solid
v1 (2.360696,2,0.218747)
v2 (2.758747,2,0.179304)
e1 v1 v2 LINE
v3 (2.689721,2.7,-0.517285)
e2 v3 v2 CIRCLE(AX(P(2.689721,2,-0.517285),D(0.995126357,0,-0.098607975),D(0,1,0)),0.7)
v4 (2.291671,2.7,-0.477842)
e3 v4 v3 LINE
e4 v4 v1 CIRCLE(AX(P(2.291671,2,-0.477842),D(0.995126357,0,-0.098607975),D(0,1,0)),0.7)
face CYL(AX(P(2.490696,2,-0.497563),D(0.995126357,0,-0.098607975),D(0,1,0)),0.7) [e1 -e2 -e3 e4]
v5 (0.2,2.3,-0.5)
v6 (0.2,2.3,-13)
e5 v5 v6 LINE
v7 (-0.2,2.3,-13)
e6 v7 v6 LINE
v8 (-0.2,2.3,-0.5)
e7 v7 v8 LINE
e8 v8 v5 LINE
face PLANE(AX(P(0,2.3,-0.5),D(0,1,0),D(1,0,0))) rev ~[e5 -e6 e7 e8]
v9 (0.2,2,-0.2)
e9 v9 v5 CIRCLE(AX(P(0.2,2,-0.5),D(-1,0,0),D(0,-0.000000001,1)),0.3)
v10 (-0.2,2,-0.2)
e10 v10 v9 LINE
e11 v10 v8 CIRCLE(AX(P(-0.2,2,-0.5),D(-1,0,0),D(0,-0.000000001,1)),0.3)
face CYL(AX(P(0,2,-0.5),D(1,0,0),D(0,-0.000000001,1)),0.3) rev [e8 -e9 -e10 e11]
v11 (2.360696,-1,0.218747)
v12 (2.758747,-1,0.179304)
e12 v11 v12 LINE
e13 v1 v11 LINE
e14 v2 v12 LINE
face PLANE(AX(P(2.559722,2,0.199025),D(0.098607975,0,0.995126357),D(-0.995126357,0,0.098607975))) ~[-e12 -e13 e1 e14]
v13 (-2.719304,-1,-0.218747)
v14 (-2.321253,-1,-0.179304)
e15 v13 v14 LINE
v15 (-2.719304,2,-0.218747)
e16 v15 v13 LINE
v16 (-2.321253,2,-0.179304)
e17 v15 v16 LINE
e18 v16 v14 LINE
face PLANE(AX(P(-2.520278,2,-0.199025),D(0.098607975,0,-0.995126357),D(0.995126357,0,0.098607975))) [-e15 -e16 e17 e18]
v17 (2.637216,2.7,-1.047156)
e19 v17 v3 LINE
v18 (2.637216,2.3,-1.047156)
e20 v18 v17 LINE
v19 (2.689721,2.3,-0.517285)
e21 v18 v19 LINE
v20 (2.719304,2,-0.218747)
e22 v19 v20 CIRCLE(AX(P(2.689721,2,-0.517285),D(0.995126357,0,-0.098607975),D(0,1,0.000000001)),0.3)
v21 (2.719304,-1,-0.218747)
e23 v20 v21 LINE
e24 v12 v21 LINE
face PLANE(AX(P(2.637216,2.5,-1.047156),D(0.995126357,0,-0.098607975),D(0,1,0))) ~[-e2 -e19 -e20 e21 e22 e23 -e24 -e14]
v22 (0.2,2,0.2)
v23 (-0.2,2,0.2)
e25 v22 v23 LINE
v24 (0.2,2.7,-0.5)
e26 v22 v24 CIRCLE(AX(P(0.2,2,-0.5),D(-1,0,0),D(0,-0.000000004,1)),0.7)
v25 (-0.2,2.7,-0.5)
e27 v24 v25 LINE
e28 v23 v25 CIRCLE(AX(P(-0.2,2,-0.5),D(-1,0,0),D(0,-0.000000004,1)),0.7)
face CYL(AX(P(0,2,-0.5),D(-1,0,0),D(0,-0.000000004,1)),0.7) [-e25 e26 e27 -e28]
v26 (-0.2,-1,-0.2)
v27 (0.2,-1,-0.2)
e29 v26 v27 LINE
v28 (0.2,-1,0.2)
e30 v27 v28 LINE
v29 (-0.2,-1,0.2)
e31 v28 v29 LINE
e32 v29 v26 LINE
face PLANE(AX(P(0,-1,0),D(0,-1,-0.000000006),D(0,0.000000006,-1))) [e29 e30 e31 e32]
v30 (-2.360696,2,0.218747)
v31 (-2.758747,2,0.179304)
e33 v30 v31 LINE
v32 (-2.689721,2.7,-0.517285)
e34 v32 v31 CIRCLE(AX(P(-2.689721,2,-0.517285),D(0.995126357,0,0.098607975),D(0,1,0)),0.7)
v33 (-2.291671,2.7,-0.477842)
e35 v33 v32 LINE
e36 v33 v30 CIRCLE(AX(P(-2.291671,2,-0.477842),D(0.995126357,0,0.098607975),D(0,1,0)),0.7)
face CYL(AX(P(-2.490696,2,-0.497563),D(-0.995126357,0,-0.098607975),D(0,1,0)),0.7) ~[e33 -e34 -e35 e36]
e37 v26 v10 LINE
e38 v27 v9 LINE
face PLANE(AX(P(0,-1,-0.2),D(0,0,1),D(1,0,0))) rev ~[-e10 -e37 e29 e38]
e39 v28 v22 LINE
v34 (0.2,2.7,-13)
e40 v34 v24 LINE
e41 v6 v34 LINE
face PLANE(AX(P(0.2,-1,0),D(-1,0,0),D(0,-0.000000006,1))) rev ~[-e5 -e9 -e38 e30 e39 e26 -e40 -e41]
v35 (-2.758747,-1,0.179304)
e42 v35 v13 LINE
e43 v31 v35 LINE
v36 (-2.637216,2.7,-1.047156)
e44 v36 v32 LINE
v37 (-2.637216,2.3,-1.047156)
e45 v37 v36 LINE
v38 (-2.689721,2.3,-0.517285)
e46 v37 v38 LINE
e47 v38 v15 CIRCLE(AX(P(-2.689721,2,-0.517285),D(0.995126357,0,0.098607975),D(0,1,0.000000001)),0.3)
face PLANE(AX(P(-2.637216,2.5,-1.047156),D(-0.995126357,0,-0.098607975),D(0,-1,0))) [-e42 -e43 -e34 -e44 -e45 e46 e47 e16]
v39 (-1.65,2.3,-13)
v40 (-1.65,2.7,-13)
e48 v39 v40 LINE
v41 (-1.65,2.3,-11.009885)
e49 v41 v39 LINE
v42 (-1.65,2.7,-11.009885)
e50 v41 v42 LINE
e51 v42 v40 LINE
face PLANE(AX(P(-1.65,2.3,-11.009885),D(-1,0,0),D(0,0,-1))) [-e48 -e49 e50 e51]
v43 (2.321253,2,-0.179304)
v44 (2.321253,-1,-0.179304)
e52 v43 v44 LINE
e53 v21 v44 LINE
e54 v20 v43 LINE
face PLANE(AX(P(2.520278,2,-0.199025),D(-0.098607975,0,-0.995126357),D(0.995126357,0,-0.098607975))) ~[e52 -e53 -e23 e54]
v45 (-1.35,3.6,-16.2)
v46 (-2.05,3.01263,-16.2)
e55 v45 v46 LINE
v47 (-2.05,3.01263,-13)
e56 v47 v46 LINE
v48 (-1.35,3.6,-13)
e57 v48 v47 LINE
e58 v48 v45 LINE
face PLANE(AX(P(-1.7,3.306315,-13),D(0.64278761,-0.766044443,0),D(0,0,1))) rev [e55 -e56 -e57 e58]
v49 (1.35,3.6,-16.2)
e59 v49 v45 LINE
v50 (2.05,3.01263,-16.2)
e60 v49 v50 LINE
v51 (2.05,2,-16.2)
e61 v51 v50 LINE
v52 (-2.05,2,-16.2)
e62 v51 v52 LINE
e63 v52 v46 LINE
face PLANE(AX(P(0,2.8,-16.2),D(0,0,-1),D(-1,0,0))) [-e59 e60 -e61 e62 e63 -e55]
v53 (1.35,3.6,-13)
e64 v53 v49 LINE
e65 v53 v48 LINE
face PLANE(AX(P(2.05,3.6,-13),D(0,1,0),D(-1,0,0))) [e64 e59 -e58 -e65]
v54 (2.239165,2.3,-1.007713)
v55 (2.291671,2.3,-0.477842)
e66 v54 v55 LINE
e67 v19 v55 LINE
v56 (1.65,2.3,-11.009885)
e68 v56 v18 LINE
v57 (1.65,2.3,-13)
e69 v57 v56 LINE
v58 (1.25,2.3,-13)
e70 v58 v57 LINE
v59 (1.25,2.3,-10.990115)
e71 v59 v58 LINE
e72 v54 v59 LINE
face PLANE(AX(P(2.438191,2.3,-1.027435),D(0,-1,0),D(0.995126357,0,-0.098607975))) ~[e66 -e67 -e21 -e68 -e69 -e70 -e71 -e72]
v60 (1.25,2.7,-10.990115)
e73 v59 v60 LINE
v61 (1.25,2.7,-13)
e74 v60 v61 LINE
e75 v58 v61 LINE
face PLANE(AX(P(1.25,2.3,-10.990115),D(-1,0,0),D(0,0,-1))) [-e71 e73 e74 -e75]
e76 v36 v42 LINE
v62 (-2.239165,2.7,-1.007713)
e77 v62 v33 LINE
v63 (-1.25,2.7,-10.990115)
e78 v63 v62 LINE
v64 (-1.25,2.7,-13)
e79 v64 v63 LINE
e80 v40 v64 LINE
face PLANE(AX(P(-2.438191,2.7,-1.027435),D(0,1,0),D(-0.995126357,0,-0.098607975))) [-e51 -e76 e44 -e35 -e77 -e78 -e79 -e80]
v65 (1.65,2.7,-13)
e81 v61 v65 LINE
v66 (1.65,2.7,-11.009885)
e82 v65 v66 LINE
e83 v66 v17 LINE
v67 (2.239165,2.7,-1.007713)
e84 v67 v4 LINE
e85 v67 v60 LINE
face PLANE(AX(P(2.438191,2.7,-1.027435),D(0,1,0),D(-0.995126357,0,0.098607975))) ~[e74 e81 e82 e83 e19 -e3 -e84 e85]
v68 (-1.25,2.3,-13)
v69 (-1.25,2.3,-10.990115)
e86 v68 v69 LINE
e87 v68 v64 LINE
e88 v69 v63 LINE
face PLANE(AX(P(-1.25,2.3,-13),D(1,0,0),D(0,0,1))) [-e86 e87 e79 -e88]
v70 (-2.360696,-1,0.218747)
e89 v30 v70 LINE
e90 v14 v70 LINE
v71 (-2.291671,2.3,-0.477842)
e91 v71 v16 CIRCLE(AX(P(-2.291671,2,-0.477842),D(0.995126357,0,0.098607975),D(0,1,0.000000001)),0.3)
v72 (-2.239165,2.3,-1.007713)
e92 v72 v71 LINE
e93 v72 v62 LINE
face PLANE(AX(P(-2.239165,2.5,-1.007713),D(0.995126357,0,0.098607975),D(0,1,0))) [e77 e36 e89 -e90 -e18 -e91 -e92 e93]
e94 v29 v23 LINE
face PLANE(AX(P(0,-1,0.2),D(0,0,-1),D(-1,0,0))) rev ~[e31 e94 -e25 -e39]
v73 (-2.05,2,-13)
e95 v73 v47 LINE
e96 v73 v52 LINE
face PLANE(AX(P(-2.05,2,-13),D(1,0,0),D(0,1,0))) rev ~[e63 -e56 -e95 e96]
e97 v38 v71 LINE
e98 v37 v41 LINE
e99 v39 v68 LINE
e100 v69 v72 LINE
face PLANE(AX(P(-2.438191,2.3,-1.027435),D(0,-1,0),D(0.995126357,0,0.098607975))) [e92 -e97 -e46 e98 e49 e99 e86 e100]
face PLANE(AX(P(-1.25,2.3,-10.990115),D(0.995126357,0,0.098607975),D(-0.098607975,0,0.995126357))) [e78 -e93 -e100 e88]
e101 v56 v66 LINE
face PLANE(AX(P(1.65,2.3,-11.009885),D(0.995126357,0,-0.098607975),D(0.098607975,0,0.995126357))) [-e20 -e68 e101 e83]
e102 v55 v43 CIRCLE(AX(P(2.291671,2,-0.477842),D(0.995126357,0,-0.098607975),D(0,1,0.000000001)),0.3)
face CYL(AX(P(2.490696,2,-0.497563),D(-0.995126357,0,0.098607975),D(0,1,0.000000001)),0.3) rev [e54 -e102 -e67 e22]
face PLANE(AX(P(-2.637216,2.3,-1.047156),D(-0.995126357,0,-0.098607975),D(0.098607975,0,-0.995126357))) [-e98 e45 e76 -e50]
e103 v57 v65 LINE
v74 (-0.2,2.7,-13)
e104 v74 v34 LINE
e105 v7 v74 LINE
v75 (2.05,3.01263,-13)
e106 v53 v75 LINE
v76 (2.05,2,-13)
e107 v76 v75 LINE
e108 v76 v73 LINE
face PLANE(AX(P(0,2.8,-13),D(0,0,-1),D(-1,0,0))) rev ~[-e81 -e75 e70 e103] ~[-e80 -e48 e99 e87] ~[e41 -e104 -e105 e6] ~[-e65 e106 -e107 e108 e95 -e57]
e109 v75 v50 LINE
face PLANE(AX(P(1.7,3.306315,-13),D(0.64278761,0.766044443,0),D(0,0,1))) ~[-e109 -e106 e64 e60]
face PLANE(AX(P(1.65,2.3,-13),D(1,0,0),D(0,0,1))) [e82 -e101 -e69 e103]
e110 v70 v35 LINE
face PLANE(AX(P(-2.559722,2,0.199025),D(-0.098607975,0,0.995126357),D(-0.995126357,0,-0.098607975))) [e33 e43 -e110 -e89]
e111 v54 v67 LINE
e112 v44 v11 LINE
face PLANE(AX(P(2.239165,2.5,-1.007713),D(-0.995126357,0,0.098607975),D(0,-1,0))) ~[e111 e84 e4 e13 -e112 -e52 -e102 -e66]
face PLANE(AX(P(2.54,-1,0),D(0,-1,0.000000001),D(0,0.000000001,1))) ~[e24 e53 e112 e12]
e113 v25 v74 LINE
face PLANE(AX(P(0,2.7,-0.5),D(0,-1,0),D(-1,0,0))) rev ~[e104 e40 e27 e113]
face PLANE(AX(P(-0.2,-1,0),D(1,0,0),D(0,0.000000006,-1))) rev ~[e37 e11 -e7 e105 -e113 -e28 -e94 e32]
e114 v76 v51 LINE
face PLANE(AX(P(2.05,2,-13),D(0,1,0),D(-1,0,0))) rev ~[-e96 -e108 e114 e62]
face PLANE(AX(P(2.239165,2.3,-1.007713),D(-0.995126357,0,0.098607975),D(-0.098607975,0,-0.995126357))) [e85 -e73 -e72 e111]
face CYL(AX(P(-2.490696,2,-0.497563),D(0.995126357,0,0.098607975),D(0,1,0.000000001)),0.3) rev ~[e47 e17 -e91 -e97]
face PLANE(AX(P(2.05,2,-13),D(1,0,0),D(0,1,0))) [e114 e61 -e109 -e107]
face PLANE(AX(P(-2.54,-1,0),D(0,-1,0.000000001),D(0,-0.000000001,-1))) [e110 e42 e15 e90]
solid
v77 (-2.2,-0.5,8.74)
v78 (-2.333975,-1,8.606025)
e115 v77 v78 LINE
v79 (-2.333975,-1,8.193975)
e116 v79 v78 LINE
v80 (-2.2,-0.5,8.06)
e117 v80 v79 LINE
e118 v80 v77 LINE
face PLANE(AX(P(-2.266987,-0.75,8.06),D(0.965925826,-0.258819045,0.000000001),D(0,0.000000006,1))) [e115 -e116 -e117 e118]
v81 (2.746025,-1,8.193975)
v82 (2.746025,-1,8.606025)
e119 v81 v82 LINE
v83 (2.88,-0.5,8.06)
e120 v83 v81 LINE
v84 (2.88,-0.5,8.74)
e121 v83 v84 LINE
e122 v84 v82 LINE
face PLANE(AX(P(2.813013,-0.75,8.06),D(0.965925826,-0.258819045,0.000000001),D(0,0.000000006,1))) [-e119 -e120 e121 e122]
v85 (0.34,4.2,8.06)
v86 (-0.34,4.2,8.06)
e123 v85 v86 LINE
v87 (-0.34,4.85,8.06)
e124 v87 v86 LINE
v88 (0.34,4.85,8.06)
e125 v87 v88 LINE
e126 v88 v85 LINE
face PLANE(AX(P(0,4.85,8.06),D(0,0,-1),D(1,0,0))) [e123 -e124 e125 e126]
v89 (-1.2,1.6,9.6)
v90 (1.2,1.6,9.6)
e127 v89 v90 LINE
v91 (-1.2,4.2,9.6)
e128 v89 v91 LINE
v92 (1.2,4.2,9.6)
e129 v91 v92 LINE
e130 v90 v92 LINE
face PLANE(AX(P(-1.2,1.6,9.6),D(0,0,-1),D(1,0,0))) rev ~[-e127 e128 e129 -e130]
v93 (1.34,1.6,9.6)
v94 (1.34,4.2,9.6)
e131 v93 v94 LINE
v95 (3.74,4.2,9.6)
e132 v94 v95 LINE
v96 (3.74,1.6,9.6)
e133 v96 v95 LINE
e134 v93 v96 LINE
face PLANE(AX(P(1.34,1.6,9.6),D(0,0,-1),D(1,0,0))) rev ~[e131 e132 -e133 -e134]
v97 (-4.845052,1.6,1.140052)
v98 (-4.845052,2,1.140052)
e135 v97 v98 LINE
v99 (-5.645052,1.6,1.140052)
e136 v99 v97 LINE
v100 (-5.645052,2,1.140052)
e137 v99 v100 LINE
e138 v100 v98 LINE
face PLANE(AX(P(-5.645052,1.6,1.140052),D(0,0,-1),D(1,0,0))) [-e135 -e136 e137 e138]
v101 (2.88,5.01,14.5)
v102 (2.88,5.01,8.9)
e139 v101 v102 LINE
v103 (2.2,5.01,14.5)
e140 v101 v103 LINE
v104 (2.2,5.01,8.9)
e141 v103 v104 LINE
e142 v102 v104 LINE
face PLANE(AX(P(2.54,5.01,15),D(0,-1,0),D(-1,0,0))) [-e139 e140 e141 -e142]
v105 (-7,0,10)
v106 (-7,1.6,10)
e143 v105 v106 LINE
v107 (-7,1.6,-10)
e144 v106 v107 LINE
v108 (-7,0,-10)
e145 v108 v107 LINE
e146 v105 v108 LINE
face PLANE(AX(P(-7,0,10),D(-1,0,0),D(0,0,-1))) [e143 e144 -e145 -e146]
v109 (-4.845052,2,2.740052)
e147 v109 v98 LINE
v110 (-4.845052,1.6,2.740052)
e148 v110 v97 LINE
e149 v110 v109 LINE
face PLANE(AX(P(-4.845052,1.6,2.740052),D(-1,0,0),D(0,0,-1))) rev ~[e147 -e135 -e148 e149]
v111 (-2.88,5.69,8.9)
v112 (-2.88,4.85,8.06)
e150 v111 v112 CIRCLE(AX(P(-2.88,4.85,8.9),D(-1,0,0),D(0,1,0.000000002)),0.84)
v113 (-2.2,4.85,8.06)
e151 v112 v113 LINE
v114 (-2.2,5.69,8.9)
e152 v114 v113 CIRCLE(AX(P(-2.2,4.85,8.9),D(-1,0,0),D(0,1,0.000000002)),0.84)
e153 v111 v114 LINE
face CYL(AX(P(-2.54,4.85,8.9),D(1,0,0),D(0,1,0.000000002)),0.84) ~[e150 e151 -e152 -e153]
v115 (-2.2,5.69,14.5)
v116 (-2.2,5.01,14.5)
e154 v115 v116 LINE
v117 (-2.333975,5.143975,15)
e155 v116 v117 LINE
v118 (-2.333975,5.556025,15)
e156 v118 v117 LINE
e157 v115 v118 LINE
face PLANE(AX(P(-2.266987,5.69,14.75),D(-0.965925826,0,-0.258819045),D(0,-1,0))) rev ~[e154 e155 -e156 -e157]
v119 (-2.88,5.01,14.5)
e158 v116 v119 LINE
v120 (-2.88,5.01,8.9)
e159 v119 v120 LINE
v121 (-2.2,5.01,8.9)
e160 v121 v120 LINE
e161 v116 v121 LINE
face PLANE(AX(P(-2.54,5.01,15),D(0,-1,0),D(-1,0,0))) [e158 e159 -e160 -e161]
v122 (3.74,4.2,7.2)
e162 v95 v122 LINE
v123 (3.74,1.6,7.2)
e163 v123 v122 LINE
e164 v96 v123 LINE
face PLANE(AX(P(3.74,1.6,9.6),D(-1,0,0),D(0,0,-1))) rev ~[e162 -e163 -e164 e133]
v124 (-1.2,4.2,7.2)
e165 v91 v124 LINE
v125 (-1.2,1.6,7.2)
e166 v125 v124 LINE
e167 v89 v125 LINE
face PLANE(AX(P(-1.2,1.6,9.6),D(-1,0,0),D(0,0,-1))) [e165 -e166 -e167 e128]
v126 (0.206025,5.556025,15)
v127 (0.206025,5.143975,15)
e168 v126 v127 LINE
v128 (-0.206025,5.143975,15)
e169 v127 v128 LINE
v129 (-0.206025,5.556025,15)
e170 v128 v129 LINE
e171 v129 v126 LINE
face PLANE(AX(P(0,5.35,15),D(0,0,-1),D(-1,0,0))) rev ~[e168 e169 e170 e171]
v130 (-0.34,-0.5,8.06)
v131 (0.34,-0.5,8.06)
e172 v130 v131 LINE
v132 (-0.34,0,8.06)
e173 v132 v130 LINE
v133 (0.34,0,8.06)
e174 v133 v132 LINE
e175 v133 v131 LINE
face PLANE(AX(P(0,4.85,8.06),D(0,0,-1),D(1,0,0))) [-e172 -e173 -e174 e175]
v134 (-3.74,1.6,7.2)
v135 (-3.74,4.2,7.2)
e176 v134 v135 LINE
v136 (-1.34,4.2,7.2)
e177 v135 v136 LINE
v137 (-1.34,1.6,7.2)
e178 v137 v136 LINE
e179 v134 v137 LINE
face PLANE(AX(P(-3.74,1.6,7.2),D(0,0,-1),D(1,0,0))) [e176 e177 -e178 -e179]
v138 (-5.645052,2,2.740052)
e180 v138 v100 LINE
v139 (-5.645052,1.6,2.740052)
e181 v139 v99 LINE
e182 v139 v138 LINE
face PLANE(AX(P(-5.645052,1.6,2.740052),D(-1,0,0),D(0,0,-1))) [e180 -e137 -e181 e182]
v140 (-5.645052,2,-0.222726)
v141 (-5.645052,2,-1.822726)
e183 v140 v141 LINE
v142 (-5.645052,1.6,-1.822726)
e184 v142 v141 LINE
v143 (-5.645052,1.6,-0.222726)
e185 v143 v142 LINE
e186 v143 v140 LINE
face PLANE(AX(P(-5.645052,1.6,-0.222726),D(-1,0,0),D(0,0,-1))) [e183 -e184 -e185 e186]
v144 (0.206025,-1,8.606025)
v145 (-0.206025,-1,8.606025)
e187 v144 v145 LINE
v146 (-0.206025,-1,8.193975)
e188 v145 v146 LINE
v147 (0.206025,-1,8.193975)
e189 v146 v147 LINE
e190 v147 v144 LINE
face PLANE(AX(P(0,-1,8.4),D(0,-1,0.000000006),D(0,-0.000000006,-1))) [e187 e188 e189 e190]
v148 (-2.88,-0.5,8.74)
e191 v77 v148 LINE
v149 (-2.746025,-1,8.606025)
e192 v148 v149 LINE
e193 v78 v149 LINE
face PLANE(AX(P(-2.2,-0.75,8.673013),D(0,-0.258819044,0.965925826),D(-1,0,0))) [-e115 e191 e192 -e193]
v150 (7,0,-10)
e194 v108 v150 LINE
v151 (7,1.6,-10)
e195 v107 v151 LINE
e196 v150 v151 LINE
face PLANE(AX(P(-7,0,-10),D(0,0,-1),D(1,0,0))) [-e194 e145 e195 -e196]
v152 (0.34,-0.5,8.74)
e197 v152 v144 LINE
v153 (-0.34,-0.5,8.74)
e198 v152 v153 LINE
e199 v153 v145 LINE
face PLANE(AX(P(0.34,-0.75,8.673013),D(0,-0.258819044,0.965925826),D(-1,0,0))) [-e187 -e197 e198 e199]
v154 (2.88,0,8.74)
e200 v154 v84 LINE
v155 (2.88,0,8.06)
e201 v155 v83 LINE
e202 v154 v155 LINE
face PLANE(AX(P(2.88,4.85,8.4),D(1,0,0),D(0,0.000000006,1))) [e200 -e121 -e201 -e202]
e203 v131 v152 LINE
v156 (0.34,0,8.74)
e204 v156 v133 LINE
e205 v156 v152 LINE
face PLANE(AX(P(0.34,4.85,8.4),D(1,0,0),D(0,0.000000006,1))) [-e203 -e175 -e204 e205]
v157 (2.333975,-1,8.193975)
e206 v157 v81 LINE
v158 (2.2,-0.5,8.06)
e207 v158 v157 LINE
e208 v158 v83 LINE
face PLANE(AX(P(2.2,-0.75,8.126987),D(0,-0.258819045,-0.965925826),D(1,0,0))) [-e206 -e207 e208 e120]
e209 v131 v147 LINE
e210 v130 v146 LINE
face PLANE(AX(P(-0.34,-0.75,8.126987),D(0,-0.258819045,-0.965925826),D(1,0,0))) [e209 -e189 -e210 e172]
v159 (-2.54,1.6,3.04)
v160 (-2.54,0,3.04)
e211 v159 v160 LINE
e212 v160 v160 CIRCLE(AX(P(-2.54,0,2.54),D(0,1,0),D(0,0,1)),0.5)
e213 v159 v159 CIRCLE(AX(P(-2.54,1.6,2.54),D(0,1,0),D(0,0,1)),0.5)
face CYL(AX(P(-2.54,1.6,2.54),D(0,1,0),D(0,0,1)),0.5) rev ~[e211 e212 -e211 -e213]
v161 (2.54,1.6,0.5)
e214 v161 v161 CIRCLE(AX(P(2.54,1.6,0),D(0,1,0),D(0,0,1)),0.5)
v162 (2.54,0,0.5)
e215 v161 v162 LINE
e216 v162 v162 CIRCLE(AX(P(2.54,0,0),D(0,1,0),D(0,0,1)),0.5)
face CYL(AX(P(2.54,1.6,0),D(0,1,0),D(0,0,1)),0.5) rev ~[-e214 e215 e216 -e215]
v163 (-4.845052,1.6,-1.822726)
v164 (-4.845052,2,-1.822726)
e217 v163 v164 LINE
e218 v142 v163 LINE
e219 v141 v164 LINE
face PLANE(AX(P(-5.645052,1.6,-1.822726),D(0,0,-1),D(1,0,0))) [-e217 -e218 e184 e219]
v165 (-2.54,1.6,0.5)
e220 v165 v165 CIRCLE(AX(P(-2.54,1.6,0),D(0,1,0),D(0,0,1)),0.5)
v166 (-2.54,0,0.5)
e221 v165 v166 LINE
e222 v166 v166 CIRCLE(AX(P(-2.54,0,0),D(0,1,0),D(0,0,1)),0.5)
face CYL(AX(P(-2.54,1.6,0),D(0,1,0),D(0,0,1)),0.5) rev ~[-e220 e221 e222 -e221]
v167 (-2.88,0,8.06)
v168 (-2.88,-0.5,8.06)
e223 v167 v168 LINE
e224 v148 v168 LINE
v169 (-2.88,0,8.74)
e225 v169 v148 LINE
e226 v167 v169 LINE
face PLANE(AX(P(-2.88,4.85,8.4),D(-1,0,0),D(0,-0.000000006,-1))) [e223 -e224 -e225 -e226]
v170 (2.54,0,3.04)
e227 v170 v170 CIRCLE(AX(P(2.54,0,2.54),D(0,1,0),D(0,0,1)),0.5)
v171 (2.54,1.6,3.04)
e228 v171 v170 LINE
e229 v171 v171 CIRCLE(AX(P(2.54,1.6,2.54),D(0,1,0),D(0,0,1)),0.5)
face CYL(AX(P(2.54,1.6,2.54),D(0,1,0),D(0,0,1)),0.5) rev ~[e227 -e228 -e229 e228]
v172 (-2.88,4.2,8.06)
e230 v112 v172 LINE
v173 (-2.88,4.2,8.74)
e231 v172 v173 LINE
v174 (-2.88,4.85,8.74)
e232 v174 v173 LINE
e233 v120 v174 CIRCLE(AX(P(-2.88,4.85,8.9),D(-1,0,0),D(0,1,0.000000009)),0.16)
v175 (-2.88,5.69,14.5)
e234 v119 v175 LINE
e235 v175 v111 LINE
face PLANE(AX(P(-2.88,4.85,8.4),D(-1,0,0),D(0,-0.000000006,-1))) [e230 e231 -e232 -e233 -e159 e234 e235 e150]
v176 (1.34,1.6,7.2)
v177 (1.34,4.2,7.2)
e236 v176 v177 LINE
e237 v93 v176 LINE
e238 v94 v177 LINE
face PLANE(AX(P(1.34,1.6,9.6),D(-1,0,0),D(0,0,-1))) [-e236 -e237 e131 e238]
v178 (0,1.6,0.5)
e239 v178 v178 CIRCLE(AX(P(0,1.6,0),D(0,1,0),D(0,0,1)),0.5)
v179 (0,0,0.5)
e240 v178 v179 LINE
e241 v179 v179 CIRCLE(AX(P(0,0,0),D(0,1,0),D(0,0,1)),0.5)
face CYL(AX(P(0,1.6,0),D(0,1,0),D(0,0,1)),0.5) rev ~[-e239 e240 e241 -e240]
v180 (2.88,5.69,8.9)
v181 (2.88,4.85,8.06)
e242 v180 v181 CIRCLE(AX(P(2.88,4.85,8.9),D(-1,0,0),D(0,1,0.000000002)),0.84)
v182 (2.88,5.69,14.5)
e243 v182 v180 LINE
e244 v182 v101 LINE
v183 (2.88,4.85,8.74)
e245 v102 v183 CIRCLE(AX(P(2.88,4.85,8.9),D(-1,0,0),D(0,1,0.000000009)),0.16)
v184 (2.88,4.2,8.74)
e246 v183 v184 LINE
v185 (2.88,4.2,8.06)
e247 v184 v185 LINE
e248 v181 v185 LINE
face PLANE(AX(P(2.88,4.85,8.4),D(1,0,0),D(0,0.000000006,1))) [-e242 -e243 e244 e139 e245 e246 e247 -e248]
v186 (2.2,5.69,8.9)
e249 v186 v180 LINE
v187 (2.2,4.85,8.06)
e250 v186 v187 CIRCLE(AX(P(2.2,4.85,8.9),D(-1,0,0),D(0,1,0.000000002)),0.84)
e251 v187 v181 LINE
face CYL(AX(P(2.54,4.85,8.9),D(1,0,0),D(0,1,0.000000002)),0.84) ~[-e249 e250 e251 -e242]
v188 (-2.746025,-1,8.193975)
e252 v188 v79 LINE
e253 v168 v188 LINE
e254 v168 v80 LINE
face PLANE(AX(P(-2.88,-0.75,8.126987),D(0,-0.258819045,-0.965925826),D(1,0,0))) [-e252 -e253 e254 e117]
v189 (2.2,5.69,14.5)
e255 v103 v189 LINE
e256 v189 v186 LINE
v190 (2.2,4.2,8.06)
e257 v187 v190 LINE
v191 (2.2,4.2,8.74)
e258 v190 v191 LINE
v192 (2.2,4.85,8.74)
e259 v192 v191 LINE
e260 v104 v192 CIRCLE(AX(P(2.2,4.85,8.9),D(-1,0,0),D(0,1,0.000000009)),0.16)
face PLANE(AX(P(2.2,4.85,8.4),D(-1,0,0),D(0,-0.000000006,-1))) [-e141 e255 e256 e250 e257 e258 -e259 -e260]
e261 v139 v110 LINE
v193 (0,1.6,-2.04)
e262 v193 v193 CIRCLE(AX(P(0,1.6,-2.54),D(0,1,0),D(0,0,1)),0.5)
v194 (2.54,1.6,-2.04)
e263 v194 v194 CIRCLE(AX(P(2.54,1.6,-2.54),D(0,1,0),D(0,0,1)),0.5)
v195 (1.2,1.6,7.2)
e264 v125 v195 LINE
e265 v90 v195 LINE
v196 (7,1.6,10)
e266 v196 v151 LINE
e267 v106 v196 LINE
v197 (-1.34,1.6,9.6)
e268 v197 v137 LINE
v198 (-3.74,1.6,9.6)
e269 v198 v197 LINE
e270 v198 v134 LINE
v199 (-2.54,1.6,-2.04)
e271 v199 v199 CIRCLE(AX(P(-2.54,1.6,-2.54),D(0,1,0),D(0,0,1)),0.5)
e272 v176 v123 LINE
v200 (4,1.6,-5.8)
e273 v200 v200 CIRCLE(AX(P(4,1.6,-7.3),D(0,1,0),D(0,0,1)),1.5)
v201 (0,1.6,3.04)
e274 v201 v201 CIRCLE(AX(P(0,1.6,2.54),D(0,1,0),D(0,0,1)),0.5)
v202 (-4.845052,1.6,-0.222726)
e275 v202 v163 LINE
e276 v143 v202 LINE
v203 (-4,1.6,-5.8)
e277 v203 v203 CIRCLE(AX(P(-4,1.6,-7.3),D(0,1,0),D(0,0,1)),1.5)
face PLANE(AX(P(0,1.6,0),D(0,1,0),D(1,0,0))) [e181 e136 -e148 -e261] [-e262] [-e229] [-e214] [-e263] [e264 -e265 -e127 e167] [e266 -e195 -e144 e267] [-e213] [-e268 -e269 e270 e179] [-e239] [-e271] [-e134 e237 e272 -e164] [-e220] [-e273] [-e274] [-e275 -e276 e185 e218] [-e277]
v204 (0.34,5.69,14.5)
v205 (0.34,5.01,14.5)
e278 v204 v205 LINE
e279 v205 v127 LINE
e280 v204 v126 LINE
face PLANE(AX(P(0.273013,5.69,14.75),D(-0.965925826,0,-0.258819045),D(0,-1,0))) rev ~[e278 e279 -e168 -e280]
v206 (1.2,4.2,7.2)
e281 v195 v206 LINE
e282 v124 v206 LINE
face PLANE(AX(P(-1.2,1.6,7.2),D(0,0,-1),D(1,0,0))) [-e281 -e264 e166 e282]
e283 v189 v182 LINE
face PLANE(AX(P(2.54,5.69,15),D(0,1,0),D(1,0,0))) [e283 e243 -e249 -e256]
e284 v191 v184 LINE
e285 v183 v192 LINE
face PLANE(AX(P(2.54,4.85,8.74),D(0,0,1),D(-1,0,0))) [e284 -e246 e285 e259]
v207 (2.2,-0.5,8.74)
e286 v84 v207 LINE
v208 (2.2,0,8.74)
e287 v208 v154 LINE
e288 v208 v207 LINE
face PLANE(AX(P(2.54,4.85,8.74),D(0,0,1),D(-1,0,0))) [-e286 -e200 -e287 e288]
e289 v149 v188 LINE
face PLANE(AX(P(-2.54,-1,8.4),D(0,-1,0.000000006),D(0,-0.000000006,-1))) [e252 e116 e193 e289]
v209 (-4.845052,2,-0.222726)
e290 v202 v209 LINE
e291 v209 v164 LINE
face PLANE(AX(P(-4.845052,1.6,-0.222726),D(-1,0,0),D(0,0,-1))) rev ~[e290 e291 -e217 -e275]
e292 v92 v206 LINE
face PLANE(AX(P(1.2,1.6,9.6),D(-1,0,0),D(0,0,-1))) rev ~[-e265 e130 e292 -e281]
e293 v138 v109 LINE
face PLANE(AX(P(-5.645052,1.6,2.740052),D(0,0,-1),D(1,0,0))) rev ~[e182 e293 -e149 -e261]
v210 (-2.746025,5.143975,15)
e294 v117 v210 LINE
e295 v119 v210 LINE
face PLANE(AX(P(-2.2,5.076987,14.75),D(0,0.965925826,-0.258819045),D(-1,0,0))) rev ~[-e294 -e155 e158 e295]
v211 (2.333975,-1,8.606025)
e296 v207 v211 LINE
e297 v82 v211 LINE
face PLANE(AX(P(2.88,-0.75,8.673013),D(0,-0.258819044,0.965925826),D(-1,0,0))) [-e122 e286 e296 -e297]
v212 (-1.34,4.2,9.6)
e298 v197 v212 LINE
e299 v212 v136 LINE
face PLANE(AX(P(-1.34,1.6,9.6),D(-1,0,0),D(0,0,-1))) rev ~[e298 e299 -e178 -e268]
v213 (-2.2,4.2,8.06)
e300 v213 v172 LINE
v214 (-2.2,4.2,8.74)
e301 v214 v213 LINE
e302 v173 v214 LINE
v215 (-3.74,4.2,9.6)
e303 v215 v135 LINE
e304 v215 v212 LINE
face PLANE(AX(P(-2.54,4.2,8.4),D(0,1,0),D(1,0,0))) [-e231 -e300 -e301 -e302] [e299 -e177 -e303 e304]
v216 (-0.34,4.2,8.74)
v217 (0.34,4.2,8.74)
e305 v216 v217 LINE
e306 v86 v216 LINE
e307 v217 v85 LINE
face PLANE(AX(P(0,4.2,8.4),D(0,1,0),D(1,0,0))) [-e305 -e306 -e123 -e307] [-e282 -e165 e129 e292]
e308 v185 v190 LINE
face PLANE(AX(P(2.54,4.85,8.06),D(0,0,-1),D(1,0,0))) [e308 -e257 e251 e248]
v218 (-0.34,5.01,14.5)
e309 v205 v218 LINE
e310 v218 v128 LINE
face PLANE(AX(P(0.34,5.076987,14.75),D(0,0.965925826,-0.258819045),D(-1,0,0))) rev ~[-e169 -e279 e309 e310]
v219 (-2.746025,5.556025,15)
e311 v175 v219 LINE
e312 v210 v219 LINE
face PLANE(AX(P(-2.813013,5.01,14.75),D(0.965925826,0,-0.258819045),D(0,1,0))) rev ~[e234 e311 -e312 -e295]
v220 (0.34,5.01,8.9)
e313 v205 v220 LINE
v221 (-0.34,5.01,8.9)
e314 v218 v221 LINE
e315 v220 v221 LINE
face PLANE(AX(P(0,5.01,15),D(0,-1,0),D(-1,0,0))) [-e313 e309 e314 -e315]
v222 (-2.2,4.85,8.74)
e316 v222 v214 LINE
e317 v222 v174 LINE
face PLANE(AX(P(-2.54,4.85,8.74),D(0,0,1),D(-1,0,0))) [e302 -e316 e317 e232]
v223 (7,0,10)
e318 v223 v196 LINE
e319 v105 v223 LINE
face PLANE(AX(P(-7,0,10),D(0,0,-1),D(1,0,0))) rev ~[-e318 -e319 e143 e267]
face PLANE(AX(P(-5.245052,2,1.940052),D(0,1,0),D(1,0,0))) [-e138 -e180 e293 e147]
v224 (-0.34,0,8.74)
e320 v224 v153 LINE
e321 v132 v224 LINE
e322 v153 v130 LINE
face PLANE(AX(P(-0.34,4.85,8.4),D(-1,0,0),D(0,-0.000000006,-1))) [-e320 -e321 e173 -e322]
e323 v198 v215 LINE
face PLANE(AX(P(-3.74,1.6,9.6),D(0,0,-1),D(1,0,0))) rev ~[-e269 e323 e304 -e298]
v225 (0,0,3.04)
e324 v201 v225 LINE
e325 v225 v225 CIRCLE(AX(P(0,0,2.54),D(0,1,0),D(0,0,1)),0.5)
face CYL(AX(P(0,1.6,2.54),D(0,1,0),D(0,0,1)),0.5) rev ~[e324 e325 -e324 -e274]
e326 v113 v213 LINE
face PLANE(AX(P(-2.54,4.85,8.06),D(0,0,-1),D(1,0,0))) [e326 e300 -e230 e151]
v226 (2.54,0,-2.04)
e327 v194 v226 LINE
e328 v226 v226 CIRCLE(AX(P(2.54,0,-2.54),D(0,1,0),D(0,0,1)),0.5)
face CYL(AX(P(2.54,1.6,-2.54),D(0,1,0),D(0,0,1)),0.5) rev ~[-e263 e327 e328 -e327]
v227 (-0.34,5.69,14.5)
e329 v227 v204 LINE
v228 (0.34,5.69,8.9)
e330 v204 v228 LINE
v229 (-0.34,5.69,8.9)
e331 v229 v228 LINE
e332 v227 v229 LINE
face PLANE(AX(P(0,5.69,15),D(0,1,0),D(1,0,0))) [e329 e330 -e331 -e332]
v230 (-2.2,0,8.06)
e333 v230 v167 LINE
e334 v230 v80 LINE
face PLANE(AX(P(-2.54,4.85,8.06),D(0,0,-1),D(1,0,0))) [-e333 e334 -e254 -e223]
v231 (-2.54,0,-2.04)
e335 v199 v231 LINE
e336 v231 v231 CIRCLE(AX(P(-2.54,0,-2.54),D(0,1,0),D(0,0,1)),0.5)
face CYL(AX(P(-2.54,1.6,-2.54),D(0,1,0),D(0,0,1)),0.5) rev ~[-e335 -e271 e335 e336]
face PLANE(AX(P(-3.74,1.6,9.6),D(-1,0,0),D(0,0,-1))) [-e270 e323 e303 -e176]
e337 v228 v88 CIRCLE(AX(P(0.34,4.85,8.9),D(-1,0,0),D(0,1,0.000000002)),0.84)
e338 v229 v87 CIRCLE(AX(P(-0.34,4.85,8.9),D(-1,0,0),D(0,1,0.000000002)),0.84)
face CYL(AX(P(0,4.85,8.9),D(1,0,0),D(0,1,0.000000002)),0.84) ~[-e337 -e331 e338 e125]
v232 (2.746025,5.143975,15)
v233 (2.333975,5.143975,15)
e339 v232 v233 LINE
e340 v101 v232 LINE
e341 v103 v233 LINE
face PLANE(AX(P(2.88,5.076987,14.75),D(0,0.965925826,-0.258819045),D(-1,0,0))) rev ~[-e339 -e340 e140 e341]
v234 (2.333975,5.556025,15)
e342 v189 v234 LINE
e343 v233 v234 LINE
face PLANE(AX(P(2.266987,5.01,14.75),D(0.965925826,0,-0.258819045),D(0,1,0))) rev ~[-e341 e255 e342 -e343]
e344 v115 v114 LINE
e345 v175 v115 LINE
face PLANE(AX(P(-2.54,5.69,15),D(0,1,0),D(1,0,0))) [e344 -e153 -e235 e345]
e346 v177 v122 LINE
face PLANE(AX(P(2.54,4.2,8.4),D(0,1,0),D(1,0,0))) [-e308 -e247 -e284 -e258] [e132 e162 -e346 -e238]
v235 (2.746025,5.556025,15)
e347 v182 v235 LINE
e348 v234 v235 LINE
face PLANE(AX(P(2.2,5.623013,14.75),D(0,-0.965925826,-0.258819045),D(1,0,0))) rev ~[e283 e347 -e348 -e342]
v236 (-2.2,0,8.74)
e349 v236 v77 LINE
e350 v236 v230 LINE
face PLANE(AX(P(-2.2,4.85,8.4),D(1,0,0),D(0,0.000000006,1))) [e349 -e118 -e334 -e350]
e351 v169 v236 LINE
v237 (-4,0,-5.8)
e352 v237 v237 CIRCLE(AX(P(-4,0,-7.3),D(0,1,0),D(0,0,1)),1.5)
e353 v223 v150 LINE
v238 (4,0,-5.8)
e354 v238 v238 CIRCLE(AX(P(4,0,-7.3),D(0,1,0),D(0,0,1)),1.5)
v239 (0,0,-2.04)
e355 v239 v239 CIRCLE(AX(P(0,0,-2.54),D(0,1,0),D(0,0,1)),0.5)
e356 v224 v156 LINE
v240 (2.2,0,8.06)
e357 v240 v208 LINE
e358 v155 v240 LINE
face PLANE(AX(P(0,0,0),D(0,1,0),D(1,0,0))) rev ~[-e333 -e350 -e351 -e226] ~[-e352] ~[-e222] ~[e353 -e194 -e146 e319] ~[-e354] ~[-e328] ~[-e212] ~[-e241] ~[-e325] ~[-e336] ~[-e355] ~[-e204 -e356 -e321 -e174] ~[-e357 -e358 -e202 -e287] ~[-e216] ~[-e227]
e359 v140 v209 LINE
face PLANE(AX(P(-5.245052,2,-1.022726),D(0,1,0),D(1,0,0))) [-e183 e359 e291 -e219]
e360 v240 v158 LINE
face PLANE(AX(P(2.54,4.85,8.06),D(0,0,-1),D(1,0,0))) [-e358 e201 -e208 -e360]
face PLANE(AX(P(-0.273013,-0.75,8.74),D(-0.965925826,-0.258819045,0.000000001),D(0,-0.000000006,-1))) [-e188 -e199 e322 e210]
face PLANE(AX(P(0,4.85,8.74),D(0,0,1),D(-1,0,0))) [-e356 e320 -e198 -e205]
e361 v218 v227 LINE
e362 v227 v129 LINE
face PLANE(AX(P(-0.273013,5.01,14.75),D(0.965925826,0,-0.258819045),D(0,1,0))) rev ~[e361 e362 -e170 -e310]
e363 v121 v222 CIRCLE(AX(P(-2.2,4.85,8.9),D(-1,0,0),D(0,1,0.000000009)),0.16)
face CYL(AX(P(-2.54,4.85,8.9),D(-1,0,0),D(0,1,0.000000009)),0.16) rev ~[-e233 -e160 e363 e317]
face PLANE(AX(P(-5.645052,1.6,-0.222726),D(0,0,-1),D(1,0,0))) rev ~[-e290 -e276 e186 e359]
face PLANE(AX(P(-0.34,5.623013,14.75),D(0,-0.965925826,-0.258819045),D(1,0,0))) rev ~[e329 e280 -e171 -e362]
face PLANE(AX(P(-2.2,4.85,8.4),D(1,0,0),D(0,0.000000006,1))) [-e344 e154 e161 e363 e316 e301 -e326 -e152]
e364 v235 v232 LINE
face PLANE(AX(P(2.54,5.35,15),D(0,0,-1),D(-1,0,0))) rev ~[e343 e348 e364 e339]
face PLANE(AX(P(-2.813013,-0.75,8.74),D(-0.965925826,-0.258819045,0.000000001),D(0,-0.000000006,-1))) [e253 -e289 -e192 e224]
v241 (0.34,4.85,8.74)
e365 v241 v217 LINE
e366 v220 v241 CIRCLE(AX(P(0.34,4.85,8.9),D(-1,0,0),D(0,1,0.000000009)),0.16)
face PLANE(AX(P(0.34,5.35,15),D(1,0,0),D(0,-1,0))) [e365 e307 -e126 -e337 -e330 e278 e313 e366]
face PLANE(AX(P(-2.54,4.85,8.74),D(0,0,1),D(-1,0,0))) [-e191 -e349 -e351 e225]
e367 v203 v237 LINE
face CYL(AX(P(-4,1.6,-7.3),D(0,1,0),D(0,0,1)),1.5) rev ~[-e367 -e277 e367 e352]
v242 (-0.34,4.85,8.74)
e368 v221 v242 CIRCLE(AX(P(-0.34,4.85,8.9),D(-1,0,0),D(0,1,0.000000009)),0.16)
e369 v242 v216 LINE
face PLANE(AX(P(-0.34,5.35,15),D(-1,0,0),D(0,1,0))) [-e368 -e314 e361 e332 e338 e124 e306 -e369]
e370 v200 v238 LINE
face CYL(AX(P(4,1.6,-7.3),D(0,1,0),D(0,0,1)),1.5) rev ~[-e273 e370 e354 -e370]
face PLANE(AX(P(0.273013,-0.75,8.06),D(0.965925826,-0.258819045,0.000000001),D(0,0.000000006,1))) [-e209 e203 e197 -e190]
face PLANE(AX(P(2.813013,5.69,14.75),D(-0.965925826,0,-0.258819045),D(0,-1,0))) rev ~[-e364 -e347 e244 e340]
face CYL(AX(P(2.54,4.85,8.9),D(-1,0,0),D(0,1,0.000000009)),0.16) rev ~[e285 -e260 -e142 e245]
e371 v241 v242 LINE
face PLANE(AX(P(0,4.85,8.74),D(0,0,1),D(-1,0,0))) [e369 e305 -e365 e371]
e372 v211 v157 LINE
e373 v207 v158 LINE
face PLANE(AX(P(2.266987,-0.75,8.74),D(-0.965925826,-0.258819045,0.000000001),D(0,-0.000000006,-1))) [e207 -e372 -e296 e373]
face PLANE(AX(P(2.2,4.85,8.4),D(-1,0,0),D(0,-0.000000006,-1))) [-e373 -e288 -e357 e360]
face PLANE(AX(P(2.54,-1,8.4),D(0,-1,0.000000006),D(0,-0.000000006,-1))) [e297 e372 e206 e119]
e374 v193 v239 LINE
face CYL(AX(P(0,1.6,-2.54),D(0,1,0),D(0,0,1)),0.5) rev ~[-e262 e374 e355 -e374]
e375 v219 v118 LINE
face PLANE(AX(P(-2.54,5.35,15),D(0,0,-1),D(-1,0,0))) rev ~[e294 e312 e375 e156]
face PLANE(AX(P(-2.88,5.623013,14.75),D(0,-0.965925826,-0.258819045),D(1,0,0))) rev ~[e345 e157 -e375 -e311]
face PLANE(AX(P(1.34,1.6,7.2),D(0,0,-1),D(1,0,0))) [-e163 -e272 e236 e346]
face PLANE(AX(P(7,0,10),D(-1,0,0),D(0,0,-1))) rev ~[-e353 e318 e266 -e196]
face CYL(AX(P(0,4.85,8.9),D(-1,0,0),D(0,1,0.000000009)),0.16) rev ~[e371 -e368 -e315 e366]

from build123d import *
from OCP.BRepFilletAPI import BRepFilletAPI_MakeChamfer

# Parameters (mm, degrees)
SKETCH1_W           = 14
SKETCH1_H           = 20
BOSS_EXTRUDE1_DEPTH = 1.6
SKETCH2_W           = 2.4
SKETCH2_H           = 2.4
BOSS_EXTRUDE2_DEPTH = 2.6
SKETCH4_W           = 0.68
SKETCH4_H           = 0.68
SKETCH8_R           = 0.5
CUT_EXTRUDE2_DEPTH  = 18.050750717
CHAMFER1_SIZE       = 0.5
CHAMFER1_SIZE2      = 0.133974596
SKETCH5_R           = 1.5
CUT_EXTRUDE1_DEPTH  = 18.050750717
SKETCH6_W           = 4.1
SKETCH6_H           = 1.6
BOSS_EXTRUDE3_DEPTH = 3.2
CHAMFER2_SIZE       = 0.7
CHAMFER2_SIZE2      = 0.587369742
BOSS_EXTRUDE4_START = -0.3
SKETCH7_W           = 0.4
SKETCH7_H           = 11.97256542
BOSS_EXTRUDE4_DEPTH = 0.4
SKETCH10_W          = 0.4
SKETCH10_H          = 0.4
SKETCH12_W          = 0.4
SKETCH12_H          = 0.4
SKETCH13_W          = 0.8
SKETCH13_H          = 1.6
BOSS_EXTRUDE5_DEPTH = 0.4


with BuildPart() as part:
    # Sketch1 → Boss-Extrude1 (new body)
    with BuildSketch(Plane(origin=(0, 0, 0), x_dir=(1, 0, 0), z_dir=(0, 1, 0))):
        Rectangle(SKETCH1_W, SKETCH1_H)
    extrude(amount=BOSS_EXTRUDE1_DEPTH)

    # Sketch2 → Boss-Extrude2 (add)
    with BuildSketch(Plane(origin=(0, 1.6, 0), x_dir=(1, 0, 0), z_dir=(0, 1, 0))):
        with Locations((0, -8.4)):
            Rectangle(SKETCH2_W, SKETCH2_H)
        with Locations((-2.54, -8.4)):
            Rectangle(SKETCH2_W, SKETCH2_H)
        with Locations((2.54, -8.4)):
            Rectangle(SKETCH2_W, SKETCH2_H)
    extrude(amount=BOSS_EXTRUDE2_DEPTH)

    # Sweep1: sweep along a path in Sketch3
    with BuildLine(Plane(origin=(0, 0, 0), x_dir=(0, 0, -1), z_dir=(1, 0, 0))) as sweep1_path:
        Line((-15, 5.35), (-8.9, 5.35))
        ThreePointArc((-8.9, 5.35), (-8.546446609, 5.203553391), (-8.4, 4.85))
        Line((-8.4, 4.85), (-8.4, -1))
    # Sketch4 → Sweep1 (sweep)
    with BuildSketch(Plane(origin=(0, 0, 15), x_dir=(-1, 0, 0), z_dir=(0, 0, -1))):
        with Locations((0, 5.35)):
            Rectangle(SKETCH4_W, SKETCH4_H)
        with Locations((2.54, 5.35)):
            Rectangle(SKETCH4_W, SKETCH4_H)
        with Locations((-2.54, 5.35)):
            Rectangle(SKETCH4_W, SKETCH4_H)
    sweep(path=sweep1_path.line)

    # Sketch8 → Cut-Extrude2 (cut, through all)
    with BuildSketch(Plane(origin=(0, 1.6, 0), x_dir=(1, 0, 0), z_dir=(0, 1, 0))):
        with Locations(Location((-2.54, 2.54, 0), (0, 0, 270))):
            Circle(SKETCH8_R)
        with Locations(Location((0, 2.54, 0), (0, 0, 270))):
            Circle(SKETCH8_R)
        with Locations(Location((2.54, 2.54, 0), (0, 0, 270))):
            Circle(SKETCH8_R)
        with Locations(Location((0, 0, 0), (0, 0, 270))):
            Circle(SKETCH8_R)
        with Locations(Location((2.54, 0, 0), (0, 0, 270))):
            Circle(SKETCH8_R)
        with Locations(Location((0, -2.54, 0), (0, 0, 270))):
            Circle(SKETCH8_R)
        with Locations(Location((2.54, -2.54, 0), (0, 0, 270))):
            Circle(SKETCH8_R)
        with Locations(Location((-2.54, 0, 0), (0, 0, 270))):
            Circle(SKETCH8_R)
        with Locations(Location((-2.54, -2.54, 0), (0, 0, 270))):
            Circle(SKETCH8_R)
    extrude(amount=-CUT_EXTRUDE2_DEPTH, mode=Mode.SUBTRACT)

    # Chamfer1: one chamfer whose edges measure the first distance from different faces: ONE call of the kernel's chamfer builder (chamfer() names one face for all edges)
    chamfer1_edges_1 = [part.edges().sort_by_distance(p)[0] for p in [
        (2.2, -1, 8.4),
    ]]
    chamfer1_side_1 = [part.faces().sort_by_distance(p)[0] for p in [
        (2.2, -0.5, 8.4),
    ]]
    chamfer1_edges_2 = [part.edges().sort_by_distance(p)[0] for p in [
        (2.54, -1, 8.06),
    ]]
    chamfer1_side_2 = [part.faces().sort_by_distance(p)[0] for p in [
        (2.54, -0.5, 8.06),
    ]]
    chamfer1_edges_3 = [part.edges().sort_by_distance(p)[0] for p in [
        (2.88, -1, 8.4),
    ]]
    chamfer1_side_3 = [part.faces().sort_by_distance(p)[0] for p in [
        (2.88, -0.5, 8.4),
    ]]
    chamfer1_edges_4 = [part.edges().sort_by_distance(p)[0] for p in [
        (2.54, -1, 8.74),
    ]]
    chamfer1_side_4 = [part.faces().sort_by_distance(p)[0] for p in [
        (2.54, -0.5, 8.74),
    ]]
    chamfer1_edges_5 = [part.edges().sort_by_distance(p)[0] for p in [
        (2.88, 5.35, 15),
    ]]
    chamfer1_side_5 = [part.faces().sort_by_distance(p)[0] for p in [
        (2.88, 5.265012354, 11.287593366),
    ]]
    chamfer1_edges_6 = [part.edges().sort_by_distance(p)[0] for p in [
        (2.54, 5.01, 15),
    ]]
    chamfer1_side_6 = [part.faces().sort_by_distance(p)[0] for p in [
        (2.54, 5.01, 11.95),
    ]]
    chamfer1_edges_7 = [part.edges().sort_by_distance(p)[0] for p in [
        (2.2, 5.35, 15),
    ]]
    chamfer1_side_7 = [part.faces().sort_by_distance(p)[0] for p in [
        (2.2, 5.265012354, 11.287593366),
    ]]
    chamfer1_edges_8 = [part.edges().sort_by_distance(p)[0] for p in [
        (2.54, 5.69, 15),
    ]]
    chamfer1_side_8 = [part.faces().sort_by_distance(p)[0] for p in [
        (2.54, 5.69, 11.95),
    ]]
    chamfer1_edges_9 = [part.edges().sort_by_distance(p)[0] for p in [
        (-2.88, -1, 8.4),
    ]]
    chamfer1_side_9 = [part.faces().sort_by_distance(p)[0] for p in [
        (-2.88, -0.5, 8.4),
    ]]
    chamfer1_edges_10 = [part.edges().sort_by_distance(p)[0] for p in [
        (-2.54, -1, 8.06),
    ]]
    chamfer1_side_10 = [part.faces().sort_by_distance(p)[0] for p in [
        (-2.54, -0.5, 8.06),
    ]]
    chamfer1_edges_11 = [part.edges().sort_by_distance(p)[0] for p in [
        (-2.2, -1, 8.4),
    ]]
    chamfer1_side_11 = [part.faces().sort_by_distance(p)[0] for p in [
        (-2.2, -0.5, 8.4),
    ]]
    chamfer1_edges_12 = [part.edges().sort_by_distance(p)[0] for p in [
        (-2.54, -1, 8.74),
    ]]
    chamfer1_side_12 = [part.faces().sort_by_distance(p)[0] for p in [
        (-2.54, -0.5, 8.74),
    ]]
    chamfer1_edges_13 = [part.edges().sort_by_distance(p)[0] for p in [
        (-2.2, 5.35, 15),
    ]]
    chamfer1_side_13 = [part.faces().sort_by_distance(p)[0] for p in [
        (-2.2, 5.265012354, 11.287593366),
    ]]
    chamfer1_edges_14 = [part.edges().sort_by_distance(p)[0] for p in [
        (-2.54, 5.01, 15),
    ]]
    chamfer1_side_14 = [part.faces().sort_by_distance(p)[0] for p in [
        (-2.54, 5.01, 11.95),
    ]]
    chamfer1_edges_15 = [part.edges().sort_by_distance(p)[0] for p in [
        (-2.88, 5.35, 15),
    ]]
    chamfer1_side_15 = [part.faces().sort_by_distance(p)[0] for p in [
        (-2.88, 5.265012354, 11.287593366),
    ]]
    chamfer1_edges_16 = [part.edges().sort_by_distance(p)[0] for p in [
        (-2.54, 5.69, 15),
    ]]
    chamfer1_side_16 = [part.faces().sort_by_distance(p)[0] for p in [
        (-2.54, 5.69, 11.95),
    ]]
    chamfer1_edges_17 = [part.edges().sort_by_distance(p)[0] for p in [
        (-0.34, -1, 8.4),
    ]]
    chamfer1_side_17 = [part.faces().sort_by_distance(p)[0] for p in [
        (-0.34, -0.5, 8.4),
    ]]
    chamfer1_edges_18 = [part.edges().sort_by_distance(p)[0] for p in [
        (0, -1, 8.06),
    ]]
    chamfer1_side_18 = [part.faces().sort_by_distance(p)[0] for p in [
        (0, -0.5, 8.06),
    ]]
    chamfer1_edges_19 = [part.edges().sort_by_distance(p)[0] for p in [
        (0.34, -1, 8.4),
    ]]
    chamfer1_side_19 = [part.faces().sort_by_distance(p)[0] for p in [
        (0.34, -0.5, 8.4),
    ]]
    chamfer1_edges_20 = [part.edges().sort_by_distance(p)[0] for p in [
        (0, -1, 8.74),
    ]]
    chamfer1_side_20 = [part.faces().sort_by_distance(p)[0] for p in [
        (0, -0.5, 8.74),
    ]]
    chamfer1_edges_21 = [part.edges().sort_by_distance(p)[0] for p in [
        (0.34, 5.35, 15),
    ]]
    chamfer1_side_21 = [part.faces().sort_by_distance(p)[0] for p in [
        (0.34, 5.265012354, 11.287593366),
    ]]
    chamfer1_edges_22 = [part.edges().sort_by_distance(p)[0] for p in [
        (0, 5.01, 15),
    ]]
    chamfer1_side_22 = [part.faces().sort_by_distance(p)[0] for p in [
        (0, 5.01, 11.95),
    ]]
    chamfer1_edges_23 = [part.edges().sort_by_distance(p)[0] for p in [
        (-0.34, 5.35, 15),
    ]]
    chamfer1_side_23 = [part.faces().sort_by_distance(p)[0] for p in [
        (-0.34, 5.265012354, 11.287593366),
    ]]
    chamfer1_edges_24 = [part.edges().sort_by_distance(p)[0] for p in [
        (0, 5.69, 15),
    ]]
    chamfer1_side_24 = [part.faces().sort_by_distance(p)[0] for p in [
        (0, 5.69, 11.95),
    ]]
    chamfer1 = BRepFilletAPI_MakeChamfer(part.part.solid().wrapped)
    for e in chamfer1_edges_1:
        chamfer1.Add(CHAMFER1_SIZE, CHAMFER1_SIZE2, e.wrapped, chamfer1_side_1[0].wrapped)  # the first distance lies on this face
    for e in chamfer1_edges_2:
        chamfer1.Add(CHAMFER1_SIZE, CHAMFER1_SIZE2, e.wrapped, chamfer1_side_2[0].wrapped)  # the first distance lies on this face
    for e in chamfer1_edges_3:
        chamfer1.Add(CHAMFER1_SIZE, CHAMFER1_SIZE2, e.wrapped, chamfer1_side_3[0].wrapped)  # the first distance lies on this face
    for e in chamfer1_edges_4:
        chamfer1.Add(CHAMFER1_SIZE, CHAMFER1_SIZE2, e.wrapped, chamfer1_side_4[0].wrapped)  # the first distance lies on this face
    for e in chamfer1_edges_5:
        chamfer1.Add(CHAMFER1_SIZE, CHAMFER1_SIZE2, e.wrapped, chamfer1_side_5[0].wrapped)  # the first distance lies on this face
    for e in chamfer1_edges_6:
        chamfer1.Add(CHAMFER1_SIZE, CHAMFER1_SIZE2, e.wrapped, chamfer1_side_6[0].wrapped)  # the first distance lies on this face
    for e in chamfer1_edges_7:
        chamfer1.Add(CHAMFER1_SIZE, CHAMFER1_SIZE2, e.wrapped, chamfer1_side_7[0].wrapped)  # the first distance lies on this face
    for e in chamfer1_edges_8:
        chamfer1.Add(CHAMFER1_SIZE, CHAMFER1_SIZE2, e.wrapped, chamfer1_side_8[0].wrapped)  # the first distance lies on this face
    for e in chamfer1_edges_9:
        chamfer1.Add(CHAMFER1_SIZE, CHAMFER1_SIZE2, e.wrapped, chamfer1_side_9[0].wrapped)  # the first distance lies on this face
    for e in chamfer1_edges_10:
        chamfer1.Add(CHAMFER1_SIZE, CHAMFER1_SIZE2, e.wrapped, chamfer1_side_10[0].wrapped)  # the first distance lies on this face
    for e in chamfer1_edges_11:
        chamfer1.Add(CHAMFER1_SIZE, CHAMFER1_SIZE2, e.wrapped, chamfer1_side_11[0].wrapped)  # the first distance lies on this face
    for e in chamfer1_edges_12:
        chamfer1.Add(CHAMFER1_SIZE, CHAMFER1_SIZE2, e.wrapped, chamfer1_side_12[0].wrapped)  # the first distance lies on this face
    for e in chamfer1_edges_13:
        chamfer1.Add(CHAMFER1_SIZE, CHAMFER1_SIZE2, e.wrapped, chamfer1_side_13[0].wrapped)  # the first distance lies on this face
    for e in chamfer1_edges_14:
        chamfer1.Add(CHAMFER1_SIZE, CHAMFER1_SIZE2, e.wrapped, chamfer1_side_14[0].wrapped)  # the first distance lies on this face
    for e in chamfer1_edges_15:
        chamfer1.Add(CHAMFER1_SIZE, CHAMFER1_SIZE2, e.wrapped, chamfer1_side_15[0].wrapped)  # the first distance lies on this face
    for e in chamfer1_edges_16:
        chamfer1.Add(CHAMFER1_SIZE, CHAMFER1_SIZE2, e.wrapped, chamfer1_side_16[0].wrapped)  # the first distance lies on this face
    for e in chamfer1_edges_17:
        chamfer1.Add(CHAMFER1_SIZE, CHAMFER1_SIZE2, e.wrapped, chamfer1_side_17[0].wrapped)  # the first distance lies on this face
    for e in chamfer1_edges_18:
        chamfer1.Add(CHAMFER1_SIZE, CHAMFER1_SIZE2, e.wrapped, chamfer1_side_18[0].wrapped)  # the first distance lies on this face
    for e in chamfer1_edges_19:
        chamfer1.Add(CHAMFER1_SIZE, CHAMFER1_SIZE2, e.wrapped, chamfer1_side_19[0].wrapped)  # the first distance lies on this face
    for e in chamfer1_edges_20:
        chamfer1.Add(CHAMFER1_SIZE, CHAMFER1_SIZE2, e.wrapped, chamfer1_side_20[0].wrapped)  # the first distance lies on this face
    for e in chamfer1_edges_21:
        chamfer1.Add(CHAMFER1_SIZE, CHAMFER1_SIZE2, e.wrapped, chamfer1_side_21[0].wrapped)  # the first distance lies on this face
    for e in chamfer1_edges_22:
        chamfer1.Add(CHAMFER1_SIZE, CHAMFER1_SIZE2, e.wrapped, chamfer1_side_22[0].wrapped)  # the first distance lies on this face
    for e in chamfer1_edges_23:
        chamfer1.Add(CHAMFER1_SIZE, CHAMFER1_SIZE2, e.wrapped, chamfer1_side_23[0].wrapped)  # the first distance lies on this face
    for e in chamfer1_edges_24:
        chamfer1.Add(CHAMFER1_SIZE, CHAMFER1_SIZE2, e.wrapped, chamfer1_side_24[0].wrapped)  # the first distance lies on this face
    add(Compound.cast(chamfer1.Shape()), mode=Mode.REPLACE)

    # Sketch5 → Cut-Extrude1 (cut, through all)
    with BuildSketch(Plane(origin=(0, 1.6, 0), x_dir=(1, 0, 0), z_dir=(0, 1, 0))):
        with Locations(Location((-4, 7.3, 0), (0, 0, 270))):
            Circle(SKETCH5_R)
        with Locations(Location((4, 7.3, 0), (0, 0, 270))):
            Circle(SKETCH5_R)
    extrude(amount=-CUT_EXTRUDE1_DEPTH, mode=Mode.SUBTRACT)

    # Sketch13 → Boss-Extrude5 (add)
    with BuildSketch(Plane(origin=(0, 1.6, 0), x_dir=(1, 0, 0), z_dir=(0, 1, 0))):
        with Locations((-5.245052358, 1.022726005)):
            Rectangle(SKETCH13_W, SKETCH13_H)
        with Locations((-5.245052358, -1.940051544)):
            Rectangle(SKETCH13_W, SKETCH13_H)
    extrude(amount=BOSS_EXTRUDE5_DEPTH)


with BuildPart() as body_2:
    # Sketch6 → Boss-Extrude3 (new body)
    with BuildSketch(Plane(origin=(0, 0, -13), x_dir=(-1, 0, 0), z_dir=(0, 0, -1))):
        with Locations((0, 2.8)):
            Rectangle(SKETCH6_W, SKETCH6_H)
    extrude(amount=BOSS_EXTRUDE3_DEPTH)

    # Chamfer2
    chamfer2_edges = [body_2.edges().sort_by_distance(p)[0] for p in [
        (2.05, 3.6, -14.6),
        (-2.05, 3.6, -14.6),
    ]]
    chamfer2_side = [body_2.faces().sort_by_distance(p)[0] for p in [
        (0, 3.6, -14.6),
    ]]
    chamfer(chamfer2_edges, length=CHAMFER2_SIZE, length2=CHAMFER2_SIZE2, reference=chamfer2_side[0])

    # Sketch7 → Boss-Extrude4 (add)
    with BuildSketch(Plane.XZ.offset(-2).offset(BOSS_EXTRUDE4_START)):
        Polygon((1.65, -13), (1.65, -11.009884885), (2.637215845, -1.047156176), (2.239165302, -1.007712985), (1.25, -10.990115115), (1.25, -13), align=None)
        with Locations((0, -7.01371729)):
            Rectangle(SKETCH7_W, SKETCH7_H)
        Polygon((-1.25, -13), (-1.25, -10.990115115), (-2.239165302, -1.007712985), (-2.637215845, -1.047156176), (-1.65, -11.009884885), (-1.65, -13), align=None)
    extrude(amount=-BOSS_EXTRUDE4_DEPTH)

    # Sweep2: sweep along a path in Sketch9
    with BuildLine(Plane(origin=(0, 0, 0), x_dir=(0, 0, -1), z_dir=(1, 0, 0))) as sweep2_path:
        Line((0, -1), (0, 2))
        ThreePointArc((0, 2), (0.146446609, 2.353553391), (0.5, 2.5))
        Line((0.5, 2.5), (1.02743458, 2.5))
    # Sketch10 → Sweep2 (sweep)
    with BuildSketch(Plane.XY.offset(-1.02743458)):
        with Locations((0, 2.5)):
            Rectangle(SKETCH10_W, SKETCH10_H)
    sweep(path=sweep2_path.line)

    # Sweep3: sweep along a path in Sketch11
    with BuildLine(Plane(origin=(-2.714327498, 0, -0.268965179), x_dir=(-0.09860797541471335, 0, 0.9951263573961909), z_dir=(-0.9951263573961909, 0, -0.09860797541471335))) as sweep3_path:
        Line((-0.782002195, 2.5), (-0.249535742, 2.5))
        ThreePointArc((-0.249535742, 2.5), (0.104017648, 2.353553391), (0.250464258, 2))
        Line((0.250464258, 2), (0.250464258, -1))
    # Sketch12 → Sweep3 (sweep)
    with BuildSketch(Plane(origin=(0.077111653, 0, -0.778190996), x_dir=(0.9951263573961909, 0, 0.09860797541471333), z_dir=(-0.09860797541471333, 0, 0.9951263573961909))):
        with Locations((-2.527620948, 2.5)):
            Rectangle(SKETCH12_W, SKETCH12_H)
    sweep3 = sweep(path=sweep3_path.line)

    # Mirror1: Sweep3 across plane
    add(sweep3.mirror(Plane(origin=(0, 0, 0), x_dir=(0, 0, 1), z_dir=(1, 0, 0))))


solid = Compound([part.part, body_2.part])
